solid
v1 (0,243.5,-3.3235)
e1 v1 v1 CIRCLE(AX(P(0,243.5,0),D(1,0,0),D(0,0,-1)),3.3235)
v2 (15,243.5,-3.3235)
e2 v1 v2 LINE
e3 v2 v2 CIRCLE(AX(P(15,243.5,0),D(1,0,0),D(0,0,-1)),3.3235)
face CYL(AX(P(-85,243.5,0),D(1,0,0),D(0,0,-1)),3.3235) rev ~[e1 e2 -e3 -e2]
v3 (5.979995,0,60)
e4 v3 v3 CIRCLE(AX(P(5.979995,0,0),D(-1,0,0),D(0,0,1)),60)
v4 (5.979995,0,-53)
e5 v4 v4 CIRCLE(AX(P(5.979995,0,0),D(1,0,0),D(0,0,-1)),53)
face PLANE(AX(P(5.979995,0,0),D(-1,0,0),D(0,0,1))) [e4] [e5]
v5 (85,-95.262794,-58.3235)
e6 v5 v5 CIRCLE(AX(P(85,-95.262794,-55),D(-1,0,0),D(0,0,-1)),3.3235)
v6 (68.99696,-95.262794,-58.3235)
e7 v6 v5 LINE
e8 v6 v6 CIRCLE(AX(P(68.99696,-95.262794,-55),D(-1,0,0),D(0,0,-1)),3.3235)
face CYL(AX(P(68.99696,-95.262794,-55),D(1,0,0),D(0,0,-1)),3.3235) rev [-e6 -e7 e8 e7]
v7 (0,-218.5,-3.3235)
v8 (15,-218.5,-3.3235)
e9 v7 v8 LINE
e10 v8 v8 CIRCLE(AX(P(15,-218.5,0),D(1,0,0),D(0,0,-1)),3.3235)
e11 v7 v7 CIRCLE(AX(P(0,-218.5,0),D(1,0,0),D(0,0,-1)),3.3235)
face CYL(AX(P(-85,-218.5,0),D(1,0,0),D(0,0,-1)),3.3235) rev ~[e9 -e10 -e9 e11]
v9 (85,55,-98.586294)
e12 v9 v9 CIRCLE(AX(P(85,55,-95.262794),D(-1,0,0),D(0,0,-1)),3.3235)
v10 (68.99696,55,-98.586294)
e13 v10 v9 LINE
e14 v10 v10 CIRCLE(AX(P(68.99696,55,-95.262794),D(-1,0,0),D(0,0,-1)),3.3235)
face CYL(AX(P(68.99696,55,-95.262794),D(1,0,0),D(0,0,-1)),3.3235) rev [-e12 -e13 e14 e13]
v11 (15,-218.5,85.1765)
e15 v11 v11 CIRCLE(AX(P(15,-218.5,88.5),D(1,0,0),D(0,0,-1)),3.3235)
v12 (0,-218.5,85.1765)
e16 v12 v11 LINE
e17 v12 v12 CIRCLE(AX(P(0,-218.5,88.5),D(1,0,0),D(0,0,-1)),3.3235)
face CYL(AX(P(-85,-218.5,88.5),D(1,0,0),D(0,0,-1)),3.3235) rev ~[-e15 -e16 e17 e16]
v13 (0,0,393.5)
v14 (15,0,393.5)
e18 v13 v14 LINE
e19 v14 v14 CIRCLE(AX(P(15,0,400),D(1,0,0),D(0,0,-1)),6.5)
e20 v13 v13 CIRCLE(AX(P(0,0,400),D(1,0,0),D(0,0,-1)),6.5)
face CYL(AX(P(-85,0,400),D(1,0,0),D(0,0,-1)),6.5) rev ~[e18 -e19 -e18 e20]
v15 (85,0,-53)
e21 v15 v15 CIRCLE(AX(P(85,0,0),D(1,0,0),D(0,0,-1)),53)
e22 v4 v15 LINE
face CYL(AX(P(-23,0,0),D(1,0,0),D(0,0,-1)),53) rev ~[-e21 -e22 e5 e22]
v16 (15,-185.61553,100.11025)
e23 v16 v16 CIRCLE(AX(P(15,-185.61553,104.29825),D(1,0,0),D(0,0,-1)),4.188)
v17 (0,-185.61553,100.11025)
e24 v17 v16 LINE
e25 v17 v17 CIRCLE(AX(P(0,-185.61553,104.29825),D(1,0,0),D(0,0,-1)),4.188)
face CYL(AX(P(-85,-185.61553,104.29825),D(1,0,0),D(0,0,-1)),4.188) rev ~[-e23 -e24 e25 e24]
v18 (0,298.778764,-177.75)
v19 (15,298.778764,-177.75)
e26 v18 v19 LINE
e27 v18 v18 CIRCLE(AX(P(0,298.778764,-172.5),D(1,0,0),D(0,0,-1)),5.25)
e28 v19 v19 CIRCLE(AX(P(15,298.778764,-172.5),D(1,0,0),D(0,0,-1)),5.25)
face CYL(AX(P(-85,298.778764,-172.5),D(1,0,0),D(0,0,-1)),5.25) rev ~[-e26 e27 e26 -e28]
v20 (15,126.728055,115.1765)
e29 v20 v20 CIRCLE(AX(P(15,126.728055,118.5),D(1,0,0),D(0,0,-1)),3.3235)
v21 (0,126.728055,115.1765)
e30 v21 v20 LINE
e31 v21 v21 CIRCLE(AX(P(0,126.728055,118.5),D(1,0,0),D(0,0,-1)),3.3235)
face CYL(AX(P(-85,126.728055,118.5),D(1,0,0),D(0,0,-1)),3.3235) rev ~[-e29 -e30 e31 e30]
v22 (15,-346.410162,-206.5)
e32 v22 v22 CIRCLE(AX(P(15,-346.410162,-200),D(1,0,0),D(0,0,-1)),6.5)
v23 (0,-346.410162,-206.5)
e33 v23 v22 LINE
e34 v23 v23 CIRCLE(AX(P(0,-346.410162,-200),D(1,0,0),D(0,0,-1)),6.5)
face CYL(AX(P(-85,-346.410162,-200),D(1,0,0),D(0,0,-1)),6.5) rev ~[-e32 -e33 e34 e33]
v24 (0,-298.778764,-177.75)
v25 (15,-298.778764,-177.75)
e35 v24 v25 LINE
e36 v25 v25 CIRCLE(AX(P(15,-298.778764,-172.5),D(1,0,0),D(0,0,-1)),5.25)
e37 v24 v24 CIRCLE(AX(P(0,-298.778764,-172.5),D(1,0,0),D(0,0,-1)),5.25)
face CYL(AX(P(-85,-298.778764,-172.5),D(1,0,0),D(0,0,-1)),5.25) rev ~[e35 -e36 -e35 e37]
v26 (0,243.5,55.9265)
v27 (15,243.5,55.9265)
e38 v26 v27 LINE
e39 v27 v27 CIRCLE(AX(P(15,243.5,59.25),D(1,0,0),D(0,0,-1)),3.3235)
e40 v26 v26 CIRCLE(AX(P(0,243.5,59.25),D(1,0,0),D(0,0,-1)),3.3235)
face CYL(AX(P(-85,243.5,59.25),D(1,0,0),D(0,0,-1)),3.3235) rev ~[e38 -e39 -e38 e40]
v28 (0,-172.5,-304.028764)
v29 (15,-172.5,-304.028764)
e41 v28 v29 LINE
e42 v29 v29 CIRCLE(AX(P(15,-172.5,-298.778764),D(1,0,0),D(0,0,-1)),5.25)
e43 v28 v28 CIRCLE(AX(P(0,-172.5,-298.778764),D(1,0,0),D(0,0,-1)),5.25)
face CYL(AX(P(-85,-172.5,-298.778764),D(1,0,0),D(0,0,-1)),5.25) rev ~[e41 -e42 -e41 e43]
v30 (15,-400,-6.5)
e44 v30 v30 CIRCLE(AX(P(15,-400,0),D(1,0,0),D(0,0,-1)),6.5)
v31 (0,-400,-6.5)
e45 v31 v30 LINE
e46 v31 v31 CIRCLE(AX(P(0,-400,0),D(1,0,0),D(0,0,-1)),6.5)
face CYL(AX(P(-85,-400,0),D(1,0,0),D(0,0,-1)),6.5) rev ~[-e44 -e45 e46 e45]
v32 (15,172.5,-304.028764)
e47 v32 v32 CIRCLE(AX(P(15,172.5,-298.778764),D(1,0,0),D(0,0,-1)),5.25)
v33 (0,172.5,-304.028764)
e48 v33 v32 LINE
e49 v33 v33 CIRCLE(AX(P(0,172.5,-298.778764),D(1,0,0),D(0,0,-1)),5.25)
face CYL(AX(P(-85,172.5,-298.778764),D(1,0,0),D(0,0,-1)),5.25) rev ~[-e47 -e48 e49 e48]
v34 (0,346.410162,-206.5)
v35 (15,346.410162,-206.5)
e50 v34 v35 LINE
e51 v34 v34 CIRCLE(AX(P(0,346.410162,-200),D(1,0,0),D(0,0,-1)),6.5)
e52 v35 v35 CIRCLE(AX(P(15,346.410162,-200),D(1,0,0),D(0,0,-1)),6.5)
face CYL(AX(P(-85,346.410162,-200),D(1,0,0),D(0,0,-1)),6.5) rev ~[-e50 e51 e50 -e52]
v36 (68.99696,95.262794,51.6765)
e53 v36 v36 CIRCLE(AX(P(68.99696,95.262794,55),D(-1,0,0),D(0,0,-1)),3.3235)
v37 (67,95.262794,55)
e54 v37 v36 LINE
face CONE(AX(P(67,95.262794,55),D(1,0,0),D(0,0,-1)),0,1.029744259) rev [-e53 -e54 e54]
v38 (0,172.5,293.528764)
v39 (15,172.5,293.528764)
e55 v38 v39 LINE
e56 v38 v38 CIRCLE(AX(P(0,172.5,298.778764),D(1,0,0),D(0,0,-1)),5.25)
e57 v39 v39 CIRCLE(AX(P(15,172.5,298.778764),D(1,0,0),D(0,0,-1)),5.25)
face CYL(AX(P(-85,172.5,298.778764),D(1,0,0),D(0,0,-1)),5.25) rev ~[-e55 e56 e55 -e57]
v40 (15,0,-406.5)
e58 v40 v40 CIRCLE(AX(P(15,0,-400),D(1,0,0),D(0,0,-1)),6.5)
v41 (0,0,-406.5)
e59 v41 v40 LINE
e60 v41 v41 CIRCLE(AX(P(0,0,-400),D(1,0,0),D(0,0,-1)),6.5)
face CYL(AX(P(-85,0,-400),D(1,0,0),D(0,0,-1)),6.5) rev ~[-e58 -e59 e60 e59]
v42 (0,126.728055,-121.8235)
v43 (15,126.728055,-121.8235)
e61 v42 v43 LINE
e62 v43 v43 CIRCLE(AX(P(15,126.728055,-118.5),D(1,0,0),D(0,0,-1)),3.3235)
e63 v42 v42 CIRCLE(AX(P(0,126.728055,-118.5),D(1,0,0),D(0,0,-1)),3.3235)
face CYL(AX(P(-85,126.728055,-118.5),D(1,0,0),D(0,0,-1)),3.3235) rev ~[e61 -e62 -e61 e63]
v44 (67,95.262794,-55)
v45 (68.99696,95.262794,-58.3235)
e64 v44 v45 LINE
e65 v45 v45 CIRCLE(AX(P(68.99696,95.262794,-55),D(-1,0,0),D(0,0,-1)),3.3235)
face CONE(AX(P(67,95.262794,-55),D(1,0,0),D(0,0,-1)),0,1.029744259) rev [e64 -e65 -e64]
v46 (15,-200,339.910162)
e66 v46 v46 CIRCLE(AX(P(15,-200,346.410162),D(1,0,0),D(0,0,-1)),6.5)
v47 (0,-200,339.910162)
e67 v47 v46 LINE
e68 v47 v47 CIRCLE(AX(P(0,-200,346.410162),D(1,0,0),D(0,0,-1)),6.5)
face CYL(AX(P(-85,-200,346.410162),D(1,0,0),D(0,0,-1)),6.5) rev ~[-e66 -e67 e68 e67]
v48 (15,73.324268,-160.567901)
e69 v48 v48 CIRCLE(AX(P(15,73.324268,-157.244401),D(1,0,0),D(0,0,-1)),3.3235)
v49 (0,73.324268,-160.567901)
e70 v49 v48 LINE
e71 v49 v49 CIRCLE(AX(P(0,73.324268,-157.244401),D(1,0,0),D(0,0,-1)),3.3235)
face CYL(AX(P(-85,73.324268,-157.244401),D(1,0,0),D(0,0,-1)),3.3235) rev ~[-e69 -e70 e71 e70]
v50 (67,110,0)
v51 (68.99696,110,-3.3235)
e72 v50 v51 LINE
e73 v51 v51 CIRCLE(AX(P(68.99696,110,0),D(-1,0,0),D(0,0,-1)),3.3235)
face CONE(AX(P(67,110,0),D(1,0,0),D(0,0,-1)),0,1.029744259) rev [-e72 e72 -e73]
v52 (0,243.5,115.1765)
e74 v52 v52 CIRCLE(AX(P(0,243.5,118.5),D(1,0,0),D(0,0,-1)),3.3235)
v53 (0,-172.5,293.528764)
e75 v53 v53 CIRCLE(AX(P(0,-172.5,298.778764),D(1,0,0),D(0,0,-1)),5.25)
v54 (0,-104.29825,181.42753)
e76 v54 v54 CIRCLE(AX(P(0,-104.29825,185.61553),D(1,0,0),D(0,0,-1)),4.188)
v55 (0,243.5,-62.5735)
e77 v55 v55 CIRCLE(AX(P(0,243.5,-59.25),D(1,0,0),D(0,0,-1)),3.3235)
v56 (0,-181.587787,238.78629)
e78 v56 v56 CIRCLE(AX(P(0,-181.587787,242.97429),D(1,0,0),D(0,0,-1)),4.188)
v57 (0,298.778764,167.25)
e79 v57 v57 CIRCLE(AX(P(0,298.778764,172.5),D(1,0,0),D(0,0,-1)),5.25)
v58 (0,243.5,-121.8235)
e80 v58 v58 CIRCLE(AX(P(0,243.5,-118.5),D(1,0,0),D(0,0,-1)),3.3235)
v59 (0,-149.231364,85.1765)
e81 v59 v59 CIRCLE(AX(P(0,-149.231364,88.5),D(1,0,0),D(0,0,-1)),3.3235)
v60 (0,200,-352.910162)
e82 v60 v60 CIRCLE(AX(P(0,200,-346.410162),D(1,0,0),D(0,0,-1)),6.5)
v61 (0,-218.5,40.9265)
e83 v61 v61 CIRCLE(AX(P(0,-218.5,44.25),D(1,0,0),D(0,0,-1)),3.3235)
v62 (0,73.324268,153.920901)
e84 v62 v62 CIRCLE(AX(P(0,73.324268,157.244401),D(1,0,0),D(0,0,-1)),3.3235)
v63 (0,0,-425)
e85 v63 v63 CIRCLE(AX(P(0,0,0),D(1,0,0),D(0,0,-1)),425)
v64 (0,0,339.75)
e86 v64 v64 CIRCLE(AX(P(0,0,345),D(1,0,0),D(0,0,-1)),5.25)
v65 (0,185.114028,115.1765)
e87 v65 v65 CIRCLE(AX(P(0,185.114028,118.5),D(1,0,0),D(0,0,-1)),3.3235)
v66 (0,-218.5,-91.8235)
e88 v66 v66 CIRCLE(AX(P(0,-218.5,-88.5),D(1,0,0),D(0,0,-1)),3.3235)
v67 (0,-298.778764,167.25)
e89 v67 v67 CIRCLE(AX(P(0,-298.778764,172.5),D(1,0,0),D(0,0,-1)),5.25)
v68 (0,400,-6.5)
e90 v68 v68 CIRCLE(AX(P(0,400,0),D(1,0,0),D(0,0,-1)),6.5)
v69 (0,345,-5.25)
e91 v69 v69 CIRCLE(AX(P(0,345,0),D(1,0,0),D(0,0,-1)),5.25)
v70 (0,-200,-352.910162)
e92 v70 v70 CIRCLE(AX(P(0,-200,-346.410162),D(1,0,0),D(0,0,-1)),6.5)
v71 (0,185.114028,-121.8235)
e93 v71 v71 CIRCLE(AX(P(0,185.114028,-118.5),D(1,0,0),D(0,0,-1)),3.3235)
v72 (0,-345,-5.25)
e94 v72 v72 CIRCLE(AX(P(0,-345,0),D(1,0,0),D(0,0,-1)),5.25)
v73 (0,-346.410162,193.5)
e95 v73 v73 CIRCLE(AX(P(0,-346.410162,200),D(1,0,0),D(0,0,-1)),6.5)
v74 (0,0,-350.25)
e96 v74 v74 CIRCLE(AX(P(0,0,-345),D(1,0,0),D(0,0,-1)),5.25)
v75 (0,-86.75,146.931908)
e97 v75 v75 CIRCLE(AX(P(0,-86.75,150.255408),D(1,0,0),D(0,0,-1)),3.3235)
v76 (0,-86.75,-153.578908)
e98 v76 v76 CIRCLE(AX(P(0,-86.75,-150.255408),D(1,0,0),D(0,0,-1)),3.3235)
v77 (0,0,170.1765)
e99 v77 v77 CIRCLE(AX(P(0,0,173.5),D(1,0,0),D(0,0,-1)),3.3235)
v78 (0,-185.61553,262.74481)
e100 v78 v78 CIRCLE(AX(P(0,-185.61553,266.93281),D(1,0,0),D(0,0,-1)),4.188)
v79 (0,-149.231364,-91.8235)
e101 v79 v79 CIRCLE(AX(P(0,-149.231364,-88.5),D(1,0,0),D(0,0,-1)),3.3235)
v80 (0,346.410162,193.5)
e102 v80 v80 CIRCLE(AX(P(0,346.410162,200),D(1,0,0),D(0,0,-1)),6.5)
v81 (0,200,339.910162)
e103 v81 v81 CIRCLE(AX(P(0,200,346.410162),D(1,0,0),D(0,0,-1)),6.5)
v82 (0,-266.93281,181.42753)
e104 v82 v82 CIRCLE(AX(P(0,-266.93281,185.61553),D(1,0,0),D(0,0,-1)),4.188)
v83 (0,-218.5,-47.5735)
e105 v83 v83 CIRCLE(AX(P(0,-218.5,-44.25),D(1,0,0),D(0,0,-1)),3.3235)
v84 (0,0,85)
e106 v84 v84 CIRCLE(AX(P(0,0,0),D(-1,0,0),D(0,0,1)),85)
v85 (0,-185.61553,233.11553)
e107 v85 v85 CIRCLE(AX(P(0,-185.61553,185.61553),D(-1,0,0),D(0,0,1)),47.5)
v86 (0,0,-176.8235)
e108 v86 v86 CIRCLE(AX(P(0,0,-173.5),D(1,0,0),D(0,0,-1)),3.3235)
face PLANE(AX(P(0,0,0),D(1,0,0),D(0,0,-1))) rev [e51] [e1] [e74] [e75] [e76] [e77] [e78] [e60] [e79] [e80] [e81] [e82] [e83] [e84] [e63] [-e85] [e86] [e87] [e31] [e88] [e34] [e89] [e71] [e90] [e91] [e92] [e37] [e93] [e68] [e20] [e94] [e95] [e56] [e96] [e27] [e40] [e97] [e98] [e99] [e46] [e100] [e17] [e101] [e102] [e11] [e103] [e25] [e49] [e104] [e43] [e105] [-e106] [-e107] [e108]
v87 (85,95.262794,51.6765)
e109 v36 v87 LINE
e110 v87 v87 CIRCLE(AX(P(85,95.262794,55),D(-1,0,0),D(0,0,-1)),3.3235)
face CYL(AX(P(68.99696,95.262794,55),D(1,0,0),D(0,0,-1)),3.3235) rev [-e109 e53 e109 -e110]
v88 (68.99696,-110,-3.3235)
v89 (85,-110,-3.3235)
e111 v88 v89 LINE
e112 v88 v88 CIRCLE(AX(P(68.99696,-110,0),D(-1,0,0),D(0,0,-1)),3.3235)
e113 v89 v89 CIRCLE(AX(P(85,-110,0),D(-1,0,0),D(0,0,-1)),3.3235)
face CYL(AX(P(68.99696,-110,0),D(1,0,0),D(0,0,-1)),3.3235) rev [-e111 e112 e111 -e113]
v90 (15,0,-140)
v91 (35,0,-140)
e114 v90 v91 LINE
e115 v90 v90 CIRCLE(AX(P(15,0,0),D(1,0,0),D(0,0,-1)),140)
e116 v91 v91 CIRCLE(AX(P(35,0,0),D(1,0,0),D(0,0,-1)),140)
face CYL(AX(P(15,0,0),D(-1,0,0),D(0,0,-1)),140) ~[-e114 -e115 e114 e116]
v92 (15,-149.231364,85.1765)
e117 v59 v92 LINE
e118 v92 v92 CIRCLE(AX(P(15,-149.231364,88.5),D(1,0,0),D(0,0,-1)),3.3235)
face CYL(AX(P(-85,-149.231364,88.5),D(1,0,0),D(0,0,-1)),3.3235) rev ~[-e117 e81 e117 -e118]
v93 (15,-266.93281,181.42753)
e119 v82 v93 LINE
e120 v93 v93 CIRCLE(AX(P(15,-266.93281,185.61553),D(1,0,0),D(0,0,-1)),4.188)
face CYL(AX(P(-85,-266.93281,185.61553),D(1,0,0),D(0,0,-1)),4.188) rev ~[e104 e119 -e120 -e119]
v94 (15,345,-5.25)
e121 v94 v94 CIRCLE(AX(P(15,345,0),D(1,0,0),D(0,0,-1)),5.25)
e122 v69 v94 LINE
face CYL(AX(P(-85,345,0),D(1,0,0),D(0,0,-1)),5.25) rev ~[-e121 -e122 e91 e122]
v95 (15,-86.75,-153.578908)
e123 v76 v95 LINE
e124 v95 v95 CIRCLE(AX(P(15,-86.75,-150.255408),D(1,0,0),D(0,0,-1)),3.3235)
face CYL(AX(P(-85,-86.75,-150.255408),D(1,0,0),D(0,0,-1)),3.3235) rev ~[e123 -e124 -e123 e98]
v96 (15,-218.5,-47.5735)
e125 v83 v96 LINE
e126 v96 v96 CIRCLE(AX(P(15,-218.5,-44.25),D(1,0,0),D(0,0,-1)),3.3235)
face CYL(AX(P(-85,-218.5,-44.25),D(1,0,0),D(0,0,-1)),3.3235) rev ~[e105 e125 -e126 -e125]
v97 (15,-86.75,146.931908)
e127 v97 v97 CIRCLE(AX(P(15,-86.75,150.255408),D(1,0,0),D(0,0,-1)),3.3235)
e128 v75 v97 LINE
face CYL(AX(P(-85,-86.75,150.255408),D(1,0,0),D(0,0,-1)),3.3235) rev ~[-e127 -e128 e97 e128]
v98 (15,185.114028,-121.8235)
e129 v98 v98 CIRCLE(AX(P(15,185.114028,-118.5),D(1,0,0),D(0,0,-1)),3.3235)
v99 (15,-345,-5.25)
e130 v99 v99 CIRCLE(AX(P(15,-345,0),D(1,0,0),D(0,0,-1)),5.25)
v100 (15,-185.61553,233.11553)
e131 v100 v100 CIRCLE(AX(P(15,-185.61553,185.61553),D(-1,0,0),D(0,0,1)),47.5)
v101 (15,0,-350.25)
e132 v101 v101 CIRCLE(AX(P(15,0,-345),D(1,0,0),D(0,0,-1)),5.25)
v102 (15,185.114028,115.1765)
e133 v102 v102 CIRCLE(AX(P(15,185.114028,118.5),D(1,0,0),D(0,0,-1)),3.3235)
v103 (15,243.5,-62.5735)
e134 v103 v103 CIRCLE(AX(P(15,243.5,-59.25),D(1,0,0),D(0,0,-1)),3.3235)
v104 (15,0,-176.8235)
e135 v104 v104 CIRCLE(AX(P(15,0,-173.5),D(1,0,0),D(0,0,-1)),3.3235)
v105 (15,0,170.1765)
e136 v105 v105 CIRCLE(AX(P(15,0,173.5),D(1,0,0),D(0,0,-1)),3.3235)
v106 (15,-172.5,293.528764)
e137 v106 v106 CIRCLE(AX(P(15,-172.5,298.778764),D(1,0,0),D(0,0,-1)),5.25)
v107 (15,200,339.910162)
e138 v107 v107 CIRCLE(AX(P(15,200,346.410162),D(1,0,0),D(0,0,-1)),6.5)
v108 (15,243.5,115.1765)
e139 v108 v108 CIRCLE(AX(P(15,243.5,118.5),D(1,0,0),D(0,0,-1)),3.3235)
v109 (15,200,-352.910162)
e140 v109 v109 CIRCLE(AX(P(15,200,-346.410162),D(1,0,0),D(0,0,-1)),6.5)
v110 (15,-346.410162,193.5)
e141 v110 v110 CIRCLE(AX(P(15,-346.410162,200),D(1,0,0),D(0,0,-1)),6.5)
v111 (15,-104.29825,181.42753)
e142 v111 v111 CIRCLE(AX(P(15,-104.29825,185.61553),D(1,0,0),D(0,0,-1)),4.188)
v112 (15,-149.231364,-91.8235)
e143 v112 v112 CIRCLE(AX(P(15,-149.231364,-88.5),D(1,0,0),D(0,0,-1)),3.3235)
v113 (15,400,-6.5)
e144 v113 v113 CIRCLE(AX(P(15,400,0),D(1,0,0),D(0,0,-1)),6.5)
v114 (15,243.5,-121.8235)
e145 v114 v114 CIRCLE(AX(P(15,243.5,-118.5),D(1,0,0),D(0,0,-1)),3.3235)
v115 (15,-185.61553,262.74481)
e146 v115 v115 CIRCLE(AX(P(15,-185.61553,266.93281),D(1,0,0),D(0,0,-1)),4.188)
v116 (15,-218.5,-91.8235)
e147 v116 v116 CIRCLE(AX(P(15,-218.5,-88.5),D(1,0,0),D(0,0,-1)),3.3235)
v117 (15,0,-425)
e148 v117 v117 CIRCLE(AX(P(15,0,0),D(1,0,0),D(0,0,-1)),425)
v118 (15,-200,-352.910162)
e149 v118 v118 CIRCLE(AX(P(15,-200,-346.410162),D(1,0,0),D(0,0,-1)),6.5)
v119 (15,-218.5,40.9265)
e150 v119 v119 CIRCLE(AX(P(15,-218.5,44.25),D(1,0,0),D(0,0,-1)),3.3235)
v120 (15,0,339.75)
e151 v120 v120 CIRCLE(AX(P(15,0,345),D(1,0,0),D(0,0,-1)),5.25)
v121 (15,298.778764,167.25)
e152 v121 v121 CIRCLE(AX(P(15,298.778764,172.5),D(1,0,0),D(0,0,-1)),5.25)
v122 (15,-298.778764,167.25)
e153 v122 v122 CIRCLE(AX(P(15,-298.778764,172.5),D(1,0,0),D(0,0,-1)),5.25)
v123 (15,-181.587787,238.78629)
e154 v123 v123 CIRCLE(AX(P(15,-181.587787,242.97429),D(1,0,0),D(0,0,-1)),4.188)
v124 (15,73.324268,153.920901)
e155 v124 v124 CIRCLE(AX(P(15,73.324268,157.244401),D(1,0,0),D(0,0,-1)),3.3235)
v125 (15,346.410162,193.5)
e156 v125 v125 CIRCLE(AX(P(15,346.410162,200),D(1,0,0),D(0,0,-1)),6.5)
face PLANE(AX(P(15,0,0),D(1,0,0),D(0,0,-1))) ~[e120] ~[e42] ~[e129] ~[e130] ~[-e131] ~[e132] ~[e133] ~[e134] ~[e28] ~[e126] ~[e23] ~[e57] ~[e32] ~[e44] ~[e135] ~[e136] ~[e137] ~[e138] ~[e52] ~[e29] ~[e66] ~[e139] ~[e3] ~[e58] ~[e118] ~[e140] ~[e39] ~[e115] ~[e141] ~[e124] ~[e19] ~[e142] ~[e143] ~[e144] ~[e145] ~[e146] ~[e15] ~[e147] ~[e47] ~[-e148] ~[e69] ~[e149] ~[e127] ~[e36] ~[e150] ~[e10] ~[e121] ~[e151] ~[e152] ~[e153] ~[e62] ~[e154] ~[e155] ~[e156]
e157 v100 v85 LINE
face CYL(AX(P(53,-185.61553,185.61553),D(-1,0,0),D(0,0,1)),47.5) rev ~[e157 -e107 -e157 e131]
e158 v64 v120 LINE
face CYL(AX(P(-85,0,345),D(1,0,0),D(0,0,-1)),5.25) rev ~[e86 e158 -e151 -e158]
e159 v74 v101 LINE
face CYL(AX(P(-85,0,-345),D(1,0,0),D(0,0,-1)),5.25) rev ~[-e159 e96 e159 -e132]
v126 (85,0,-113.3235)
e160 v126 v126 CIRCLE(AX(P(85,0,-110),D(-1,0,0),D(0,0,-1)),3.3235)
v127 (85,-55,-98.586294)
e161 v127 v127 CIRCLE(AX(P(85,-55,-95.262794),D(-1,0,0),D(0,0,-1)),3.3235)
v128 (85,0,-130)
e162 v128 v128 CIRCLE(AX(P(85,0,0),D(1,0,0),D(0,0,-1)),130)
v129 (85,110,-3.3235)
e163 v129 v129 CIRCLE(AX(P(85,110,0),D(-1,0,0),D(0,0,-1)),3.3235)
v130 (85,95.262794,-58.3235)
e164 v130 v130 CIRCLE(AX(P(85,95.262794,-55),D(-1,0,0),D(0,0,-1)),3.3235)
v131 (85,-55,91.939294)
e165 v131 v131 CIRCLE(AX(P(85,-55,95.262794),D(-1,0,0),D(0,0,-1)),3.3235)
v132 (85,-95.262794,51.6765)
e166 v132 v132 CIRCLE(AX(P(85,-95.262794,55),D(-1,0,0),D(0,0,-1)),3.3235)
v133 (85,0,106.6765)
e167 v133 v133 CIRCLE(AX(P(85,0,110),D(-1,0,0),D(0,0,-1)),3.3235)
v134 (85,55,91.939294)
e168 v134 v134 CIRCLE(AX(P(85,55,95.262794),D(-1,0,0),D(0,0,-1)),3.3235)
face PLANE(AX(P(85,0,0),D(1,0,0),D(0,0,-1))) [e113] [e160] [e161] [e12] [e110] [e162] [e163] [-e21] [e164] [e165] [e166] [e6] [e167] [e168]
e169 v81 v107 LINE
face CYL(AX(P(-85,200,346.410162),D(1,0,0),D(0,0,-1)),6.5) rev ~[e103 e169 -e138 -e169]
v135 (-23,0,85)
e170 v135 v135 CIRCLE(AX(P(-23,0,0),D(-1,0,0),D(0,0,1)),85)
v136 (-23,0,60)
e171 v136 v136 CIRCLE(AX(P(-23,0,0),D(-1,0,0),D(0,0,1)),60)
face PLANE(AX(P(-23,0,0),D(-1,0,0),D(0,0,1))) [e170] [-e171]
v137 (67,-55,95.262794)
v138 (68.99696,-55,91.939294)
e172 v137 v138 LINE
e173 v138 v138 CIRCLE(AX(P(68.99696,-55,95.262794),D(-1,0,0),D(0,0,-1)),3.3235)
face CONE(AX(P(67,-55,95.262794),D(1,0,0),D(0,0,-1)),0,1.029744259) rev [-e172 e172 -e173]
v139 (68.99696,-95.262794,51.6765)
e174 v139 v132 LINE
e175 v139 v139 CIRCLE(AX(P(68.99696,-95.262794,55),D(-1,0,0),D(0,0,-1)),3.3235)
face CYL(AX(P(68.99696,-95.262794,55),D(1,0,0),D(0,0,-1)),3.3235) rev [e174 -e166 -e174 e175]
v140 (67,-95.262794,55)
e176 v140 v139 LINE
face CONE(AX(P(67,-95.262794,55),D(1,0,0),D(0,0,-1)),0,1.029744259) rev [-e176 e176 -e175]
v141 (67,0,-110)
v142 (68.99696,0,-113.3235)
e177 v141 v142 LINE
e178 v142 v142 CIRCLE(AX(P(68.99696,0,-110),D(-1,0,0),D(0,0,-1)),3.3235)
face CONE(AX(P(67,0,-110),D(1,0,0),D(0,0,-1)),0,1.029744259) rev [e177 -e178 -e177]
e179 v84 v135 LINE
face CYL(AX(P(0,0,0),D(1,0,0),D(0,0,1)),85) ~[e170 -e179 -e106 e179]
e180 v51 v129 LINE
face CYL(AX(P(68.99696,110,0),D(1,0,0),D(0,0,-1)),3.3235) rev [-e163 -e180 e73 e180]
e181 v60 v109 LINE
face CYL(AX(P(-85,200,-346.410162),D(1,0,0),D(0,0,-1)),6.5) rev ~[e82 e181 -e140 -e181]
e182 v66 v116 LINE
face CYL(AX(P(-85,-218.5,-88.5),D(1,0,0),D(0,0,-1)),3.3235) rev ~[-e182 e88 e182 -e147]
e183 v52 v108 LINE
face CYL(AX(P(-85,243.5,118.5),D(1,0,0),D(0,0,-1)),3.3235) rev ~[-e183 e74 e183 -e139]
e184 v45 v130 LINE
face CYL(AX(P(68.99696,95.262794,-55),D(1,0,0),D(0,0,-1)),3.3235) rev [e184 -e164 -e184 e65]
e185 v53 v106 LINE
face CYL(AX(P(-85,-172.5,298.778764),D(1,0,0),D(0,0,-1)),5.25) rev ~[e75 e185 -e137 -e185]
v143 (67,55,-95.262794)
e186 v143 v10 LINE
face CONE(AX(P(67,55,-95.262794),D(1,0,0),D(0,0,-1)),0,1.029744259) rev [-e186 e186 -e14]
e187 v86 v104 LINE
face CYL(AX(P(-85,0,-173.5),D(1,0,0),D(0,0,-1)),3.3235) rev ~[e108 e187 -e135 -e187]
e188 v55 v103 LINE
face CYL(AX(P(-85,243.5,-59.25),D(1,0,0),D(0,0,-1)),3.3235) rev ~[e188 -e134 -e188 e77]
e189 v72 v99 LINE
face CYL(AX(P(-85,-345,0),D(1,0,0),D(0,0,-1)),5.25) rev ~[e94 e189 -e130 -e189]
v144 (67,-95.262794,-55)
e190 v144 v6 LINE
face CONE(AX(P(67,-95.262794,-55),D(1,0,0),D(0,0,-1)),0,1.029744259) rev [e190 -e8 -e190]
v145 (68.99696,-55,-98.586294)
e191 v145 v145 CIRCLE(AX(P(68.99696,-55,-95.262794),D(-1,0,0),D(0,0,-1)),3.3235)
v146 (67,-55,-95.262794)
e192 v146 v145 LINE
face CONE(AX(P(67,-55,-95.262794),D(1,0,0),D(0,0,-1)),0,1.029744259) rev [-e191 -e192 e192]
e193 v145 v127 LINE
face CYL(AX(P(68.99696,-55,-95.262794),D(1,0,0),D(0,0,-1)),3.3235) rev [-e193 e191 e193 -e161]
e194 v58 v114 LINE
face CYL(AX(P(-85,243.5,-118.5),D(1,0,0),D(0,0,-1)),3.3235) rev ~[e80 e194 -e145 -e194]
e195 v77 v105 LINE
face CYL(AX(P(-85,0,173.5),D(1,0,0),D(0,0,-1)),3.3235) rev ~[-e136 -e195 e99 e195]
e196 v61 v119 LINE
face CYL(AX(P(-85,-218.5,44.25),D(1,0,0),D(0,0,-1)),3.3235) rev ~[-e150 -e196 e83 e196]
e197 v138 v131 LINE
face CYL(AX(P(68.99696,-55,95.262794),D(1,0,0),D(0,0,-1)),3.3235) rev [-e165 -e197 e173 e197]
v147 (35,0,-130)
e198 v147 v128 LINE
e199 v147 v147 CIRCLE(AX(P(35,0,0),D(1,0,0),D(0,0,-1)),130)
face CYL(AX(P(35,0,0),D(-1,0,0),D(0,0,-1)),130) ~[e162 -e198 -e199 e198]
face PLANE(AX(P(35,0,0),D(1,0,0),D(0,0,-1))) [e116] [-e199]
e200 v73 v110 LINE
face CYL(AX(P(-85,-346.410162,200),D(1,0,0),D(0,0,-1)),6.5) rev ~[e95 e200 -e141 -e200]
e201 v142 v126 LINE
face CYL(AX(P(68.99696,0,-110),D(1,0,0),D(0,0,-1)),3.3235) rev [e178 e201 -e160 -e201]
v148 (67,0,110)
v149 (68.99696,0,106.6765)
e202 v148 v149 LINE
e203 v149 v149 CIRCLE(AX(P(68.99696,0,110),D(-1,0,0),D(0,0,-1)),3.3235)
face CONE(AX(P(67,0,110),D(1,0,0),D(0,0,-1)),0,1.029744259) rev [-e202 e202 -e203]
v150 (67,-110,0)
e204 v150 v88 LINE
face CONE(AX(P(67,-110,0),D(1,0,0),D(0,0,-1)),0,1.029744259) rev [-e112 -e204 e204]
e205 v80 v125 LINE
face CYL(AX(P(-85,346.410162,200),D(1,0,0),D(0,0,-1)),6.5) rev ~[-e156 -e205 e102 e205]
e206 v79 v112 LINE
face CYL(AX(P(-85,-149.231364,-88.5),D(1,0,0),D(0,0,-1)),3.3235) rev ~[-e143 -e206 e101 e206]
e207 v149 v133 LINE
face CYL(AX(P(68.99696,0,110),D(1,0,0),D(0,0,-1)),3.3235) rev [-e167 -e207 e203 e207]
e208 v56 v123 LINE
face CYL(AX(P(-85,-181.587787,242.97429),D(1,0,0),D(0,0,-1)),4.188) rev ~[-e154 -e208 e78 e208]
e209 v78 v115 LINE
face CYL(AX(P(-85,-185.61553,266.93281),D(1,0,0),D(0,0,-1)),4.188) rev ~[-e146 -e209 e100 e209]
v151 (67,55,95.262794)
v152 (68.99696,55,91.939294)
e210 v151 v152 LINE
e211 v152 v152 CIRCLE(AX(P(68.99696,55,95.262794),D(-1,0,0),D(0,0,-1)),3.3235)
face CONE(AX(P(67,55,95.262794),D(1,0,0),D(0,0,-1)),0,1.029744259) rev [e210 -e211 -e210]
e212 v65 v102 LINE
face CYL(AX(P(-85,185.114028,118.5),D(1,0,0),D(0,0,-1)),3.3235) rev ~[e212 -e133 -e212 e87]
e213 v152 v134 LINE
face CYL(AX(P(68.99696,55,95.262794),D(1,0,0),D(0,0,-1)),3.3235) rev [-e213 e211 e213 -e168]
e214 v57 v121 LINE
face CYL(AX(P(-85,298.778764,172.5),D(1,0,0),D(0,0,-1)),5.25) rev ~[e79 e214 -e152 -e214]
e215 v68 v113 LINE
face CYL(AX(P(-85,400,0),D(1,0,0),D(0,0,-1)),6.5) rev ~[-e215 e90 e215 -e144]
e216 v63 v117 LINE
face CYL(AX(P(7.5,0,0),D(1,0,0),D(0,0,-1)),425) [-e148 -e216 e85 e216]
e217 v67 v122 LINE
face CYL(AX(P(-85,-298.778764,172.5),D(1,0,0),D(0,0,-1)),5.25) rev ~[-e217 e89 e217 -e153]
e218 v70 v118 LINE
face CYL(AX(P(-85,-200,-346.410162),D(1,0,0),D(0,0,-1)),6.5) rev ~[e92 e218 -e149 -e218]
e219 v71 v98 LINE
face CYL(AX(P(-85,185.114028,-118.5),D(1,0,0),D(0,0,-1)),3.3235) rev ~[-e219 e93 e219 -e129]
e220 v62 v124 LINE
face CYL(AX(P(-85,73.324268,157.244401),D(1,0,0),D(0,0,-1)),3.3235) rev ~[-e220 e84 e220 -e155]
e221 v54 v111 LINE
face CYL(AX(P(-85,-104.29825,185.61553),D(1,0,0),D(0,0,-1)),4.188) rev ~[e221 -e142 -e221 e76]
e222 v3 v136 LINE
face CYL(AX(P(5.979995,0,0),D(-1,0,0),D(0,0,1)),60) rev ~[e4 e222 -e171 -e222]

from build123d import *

# Parameters (mm, degrees)
SKETCH1_W                    = 15
SKETCH1_H                    = 425
SKETCH2_R                    = 140
BOSS_EXTRUDE1_DEPTH          = 20
SKETCH3_R                    = 130
BOSS_EXTRUDE2_DEPTH          = 50
SKETCH4_R                    = 85
BOSS_EXTRUDE3_DEPTH          = 23
F_1_4_CLEARANCE_HOLE1_D      = 6.647
F_1_4_CLEARANCE_HOLE1_DEPTH  = 85
HOLE1_D                      = 13
HOLE1_DEPTH                  = 85
HOLE1_TIP                    = 3.905594024
HOLE2_D                      = 10.5
HOLE2_DEPTH                  = 85
HOLE2_TIP                    = 3.15451825
F_5_16_CLEARANCE_HOLE1_D     = 8.376
F_5_16_CLEARANCE_HOLE1_DEPTH = 85
HOLE3_D                      = 95
HOLE3_DEPTH                  = 38
HOLE4_D                      = 106
HOLE4_CBORE_D                = 120
HOLE4_CBORE_DEPTH            = 28.979995345


with BuildPart() as part:
    # Sketch1 → Revolve1 (revolve)
    with BuildSketch(Plane.XY):
        with Locations((7.5, 212.5)):
            Rectangle(SKETCH1_W, SKETCH1_H)
    revolve(axis=Axis((0, 0, 0), (1, 0, 0)))

    # Sketch2 → Boss-Extrude1 (add)
    with BuildSketch(Plane(origin=(15, 0, 0), x_dir=(0, 0, -1), z_dir=(1, 0, 0))):
        Circle(SKETCH2_R)
    extrude(amount=BOSS_EXTRUDE1_DEPTH)

    # Sketch3 → Boss-Extrude2 (add)
    with BuildSketch(Plane(origin=(35, 0, 0), x_dir=(0, 0, -1), z_dir=(1, 0, 0))):
        Circle(SKETCH3_R)
    extrude(amount=BOSS_EXTRUDE2_DEPTH)

    # Sketch4 → Boss-Extrude3 (add)
    with BuildSketch(Plane.ZY):
        Circle(SKETCH4_R)
    extrude(amount=BOSS_EXTRUDE3_DEPTH)

    # Sketch5 → Cut-Revolve1 (revolve, cut)
    with BuildSketch(Plane(origin=(0, 0, 0), x_dir=(-1, 0, 0), z_dir=(0, 0, -1))):
        Polygon((-85, 113.3235), (-85, 110), (-67, 110), (-68.996960267, 113.3235), (-73, 113.3235), align=None)
    revolve(axis=Axis((85, 110, 0), (-1, 0, 0)), mode=Mode.SUBTRACT)

    # Sketch6 → Cut-Revolve2 (revolve, cut)
    with BuildSketch(Plane(origin=(0, 0, -55), x_dir=(-1, 0, 0), z_dir=(0, 0, -1))):
        Polygon((-85, 98.586294416), (-85, 95.262794416), (-67, 95.262794416), (-68.996960267, 98.586294416), (-73, 98.586294416), align=None)
    revolve(axis=Axis((85, 95.262794416, -55), (-1, 0, 0)), mode=Mode.SUBTRACT)

    # Sketch7 → Cut-Revolve3 (revolve, cut)
    with BuildSketch(Plane(origin=(0, 0, -95.262794416), x_dir=(-1, 0, 0), z_dir=(0, 0, -1))):
        Polygon((-85, 58.3235), (-85, 55), (-67, 55), (-68.996960267, 58.3235), (-73, 58.3235), align=None)
    revolve(axis=Axis((85, 55, -95.262794416), (-1, 0, 0)), mode=Mode.SUBTRACT)

    # Sketch8 → Cut-Revolve4 (revolve, cut)
    with BuildSketch(Plane(origin=(0, 0, -110), x_dir=(-1, 0, 0), z_dir=(0, 0, -1))):
        Polygon((-85, 3.3235), (-85, 0), (-67, 0), (-68.996960267, 3.3235), (-73, 3.3235), align=None)
    revolve(axis=Axis((85, 0, -110), (-1, 0, 0)), mode=Mode.SUBTRACT)

    # Sketch9 → Cut-Revolve5 (revolve, cut)
    with BuildSketch(Plane(origin=(0, 0, -95.262794416), x_dir=(-1, 0, 0), z_dir=(0, 0, -1))):
        Polygon((-85, -51.6765), (-85, -55), (-67, -55), (-68.996960267, -51.6765), (-73, -51.6765), align=None)
    revolve(axis=Axis((85, -55, -95.262794416), (-1, 0, 0)), mode=Mode.SUBTRACT)

    # Sketch10 → Cut-Revolve6 (revolve, cut)
    with BuildSketch(Plane(origin=(0, 0, -55), x_dir=(-1, 0, 0), z_dir=(0, 0, -1))):
        Polygon((-85, -91.939294416), (-85, -95.262794416), (-67, -95.262794416), (-68.996960267, -91.939294416), (-73, -91.939294416), align=None)
    revolve(axis=Axis((85, -95.262794416, -55), (-1, 0, 0)), mode=Mode.SUBTRACT)

    # Sketch11 → Cut-Revolve7 (revolve, cut)
    with BuildSketch(Plane(origin=(0, 0, 0), x_dir=(-1, 0, 0), z_dir=(0, 0, -1))):
        Polygon((-85, -106.6765), (-85, -110), (-67, -110), (-68.996960267, -106.6765), (-73, -106.6765), align=None)
    revolve(axis=Axis((85, -110, 0), (-1, 0, 0)), mode=Mode.SUBTRACT)

    # Sketch12 → Cut-Revolve8 (revolve, cut)
    with BuildSketch(Plane(origin=(0, 0, 55), x_dir=(-1, 0, 0), z_dir=(0, 0, -1))):
        Polygon((-85, -91.939294416), (-85, -95.262794416), (-67, -95.262794416), (-68.996960267, -91.939294416), (-73, -91.939294416), align=None)
    revolve(axis=Axis((85, -95.262794416, 55), (-1, 0, 0)), mode=Mode.SUBTRACT)

    # Sketch13 → Cut-Revolve9 (revolve, cut)
    with BuildSketch(Plane(origin=(0, 0, 95.262794416), x_dir=(-1, 0, 0), z_dir=(0, 0, -1))):
        Polygon((-85, -51.6765), (-85, -55), (-67, -55), (-68.996960267, -51.6765), (-73, -51.6765), align=None)
    revolve(axis=Axis((85, -55, 95.262794416), (-1, 0, 0)), mode=Mode.SUBTRACT)

    # Sketch14 → Cut-Revolve10 (revolve, cut)
    with BuildSketch(Plane(origin=(0, 0, 110), x_dir=(-1, 0, 0), z_dir=(0, 0, -1))):
        Polygon((-85, 3.3235), (-85, 0), (-67, 0), (-68.996960267, 3.3235), (-73, 3.3235), align=None)
    revolve(axis=Axis((85, 0, 110), (-1, 0, 0)), mode=Mode.SUBTRACT)

    # Sketch15 → Cut-Revolve11 (revolve, cut)
    with BuildSketch(Plane(origin=(0, 0, 95.262794416), x_dir=(-1, 0, 0), z_dir=(0, 0, -1))):
        Polygon((-85, 58.3235), (-85, 55), (-67, 55), (-68.996960267, 58.3235), (-73, 58.3235), align=None)
    revolve(axis=Axis((85, 55, 95.262794416), (-1, 0, 0)), mode=Mode.SUBTRACT)

    # Sketch16 → Cut-Revolve12 (revolve, cut)
    with BuildSketch(Plane(origin=(0, 0, 55), x_dir=(-1, 0, 0), z_dir=(0, 0, -1))):
        Polygon((-85, 98.586294416), (-85, 95.262794416), (-67, 95.262794416), (-68.996960267, 98.586294416), (-73, 98.586294416), align=None)
    revolve(axis=Axis((85, 95.262794416, 55), (-1, 0, 0)), mode=Mode.SUBTRACT)

    # 1/4 Clearance Hole1
    with Locations(Plane.ZY):
        with Locations((88.5, -218.5), (88.5, -149.231363996), (44.25, -218.5), (0, -218.5), (-44.25, -218.5), (150.255407557, -86.75), (-88.5, -218.5), (-88.5, -149.231363996), (-173.5, 0), (-150.255407557, -86.75), (-157.244401051, 73.324268412), (-118.5, 126.7280553), (-118.5, 185.11402765), (-118.5, 243.5), (-59.25, 243.5), (0, 243.5), (59.25, 243.5), (118.5, 243.5), (118.5, 185.11402765), (118.5, 126.7280553), (157.244401051, 73.324268412), (173.5, 0)):
            Hole(F_1_4_CLEARANCE_HOLE1_D / 2, depth=F_1_4_CLEARANCE_HOLE1_DEPTH)

    # Hole1
    with Locations(Plane.ZY):
        with Locations((400, 0), (346.410161514, -200), (200, -346.410161514), (0, -400), (-200, -346.410161514), (-346.410161514, -200), (-400, 0), (-346.410161514, 200), (-200, 346.410161514), (0, 400), (200, 346.410161514), (346.410161514, 200)):
            Hole(HOLE1_D / 2, depth=HOLE1_DEPTH)
            with Locations((0, 0, -(HOLE1_DEPTH + HOLE1_TIP / 2))):  # 118° drill point
                Cone(0, HOLE1_D / 2, HOLE1_TIP, mode=Mode.SUBTRACT)

    # Hole2
    with Locations(Plane.ZY):
        with Locations((0, -345), (-172.5, -298.778764306), (-298.778764306, -172.5), (-345, 0), (-298.778764306, 172.5), (-172.5, 298.778764306), (0, 345), (172.5, 298.778764306), (298.778764306, 172.5), (345, 0), (298.778764306, -172.5), (172.5, -298.778764306)):
            Hole(HOLE2_D / 2, depth=HOLE2_DEPTH)
            with Locations((0, 0, -(HOLE2_DEPTH + HOLE2_TIP / 2))):  # 118° drill point
                Cone(0, HOLE2_D / 2, HOLE2_TIP, mode=Mode.SUBTRACT)

    # 5/16 Clearance Hole1
    with Locations(Plane.ZY):
        with Locations((266.932809898, -185.615530061), (185.615530061, -266.932809898), (104.298250225, -185.615530061), (185.615530061, -104.298250225), (185.615530061, -185.615530061), (242.974289503, -181.587786851)):
            Hole(F_5_16_CLEARANCE_HOLE1_D / 2, depth=F_5_16_CLEARANCE_HOLE1_DEPTH)

    # Hole3
    with Locations(Plane(origin=(15, 0, 0), x_dir=(0, 0, -1), z_dir=(1, 0, 0))):
        with Locations((-185.615530061, -185.615530061)):
            Hole(HOLE3_D / 2, depth=HOLE3_DEPTH)

    # Hole4 (through all)
    with Locations(Plane.ZY.offset(23)):
        with Locations((0, 0)):
            CounterBoreHole(HOLE4_D / 2, HOLE4_CBORE_D / 2, HOLE4_CBORE_DEPTH)


solid = part.part
